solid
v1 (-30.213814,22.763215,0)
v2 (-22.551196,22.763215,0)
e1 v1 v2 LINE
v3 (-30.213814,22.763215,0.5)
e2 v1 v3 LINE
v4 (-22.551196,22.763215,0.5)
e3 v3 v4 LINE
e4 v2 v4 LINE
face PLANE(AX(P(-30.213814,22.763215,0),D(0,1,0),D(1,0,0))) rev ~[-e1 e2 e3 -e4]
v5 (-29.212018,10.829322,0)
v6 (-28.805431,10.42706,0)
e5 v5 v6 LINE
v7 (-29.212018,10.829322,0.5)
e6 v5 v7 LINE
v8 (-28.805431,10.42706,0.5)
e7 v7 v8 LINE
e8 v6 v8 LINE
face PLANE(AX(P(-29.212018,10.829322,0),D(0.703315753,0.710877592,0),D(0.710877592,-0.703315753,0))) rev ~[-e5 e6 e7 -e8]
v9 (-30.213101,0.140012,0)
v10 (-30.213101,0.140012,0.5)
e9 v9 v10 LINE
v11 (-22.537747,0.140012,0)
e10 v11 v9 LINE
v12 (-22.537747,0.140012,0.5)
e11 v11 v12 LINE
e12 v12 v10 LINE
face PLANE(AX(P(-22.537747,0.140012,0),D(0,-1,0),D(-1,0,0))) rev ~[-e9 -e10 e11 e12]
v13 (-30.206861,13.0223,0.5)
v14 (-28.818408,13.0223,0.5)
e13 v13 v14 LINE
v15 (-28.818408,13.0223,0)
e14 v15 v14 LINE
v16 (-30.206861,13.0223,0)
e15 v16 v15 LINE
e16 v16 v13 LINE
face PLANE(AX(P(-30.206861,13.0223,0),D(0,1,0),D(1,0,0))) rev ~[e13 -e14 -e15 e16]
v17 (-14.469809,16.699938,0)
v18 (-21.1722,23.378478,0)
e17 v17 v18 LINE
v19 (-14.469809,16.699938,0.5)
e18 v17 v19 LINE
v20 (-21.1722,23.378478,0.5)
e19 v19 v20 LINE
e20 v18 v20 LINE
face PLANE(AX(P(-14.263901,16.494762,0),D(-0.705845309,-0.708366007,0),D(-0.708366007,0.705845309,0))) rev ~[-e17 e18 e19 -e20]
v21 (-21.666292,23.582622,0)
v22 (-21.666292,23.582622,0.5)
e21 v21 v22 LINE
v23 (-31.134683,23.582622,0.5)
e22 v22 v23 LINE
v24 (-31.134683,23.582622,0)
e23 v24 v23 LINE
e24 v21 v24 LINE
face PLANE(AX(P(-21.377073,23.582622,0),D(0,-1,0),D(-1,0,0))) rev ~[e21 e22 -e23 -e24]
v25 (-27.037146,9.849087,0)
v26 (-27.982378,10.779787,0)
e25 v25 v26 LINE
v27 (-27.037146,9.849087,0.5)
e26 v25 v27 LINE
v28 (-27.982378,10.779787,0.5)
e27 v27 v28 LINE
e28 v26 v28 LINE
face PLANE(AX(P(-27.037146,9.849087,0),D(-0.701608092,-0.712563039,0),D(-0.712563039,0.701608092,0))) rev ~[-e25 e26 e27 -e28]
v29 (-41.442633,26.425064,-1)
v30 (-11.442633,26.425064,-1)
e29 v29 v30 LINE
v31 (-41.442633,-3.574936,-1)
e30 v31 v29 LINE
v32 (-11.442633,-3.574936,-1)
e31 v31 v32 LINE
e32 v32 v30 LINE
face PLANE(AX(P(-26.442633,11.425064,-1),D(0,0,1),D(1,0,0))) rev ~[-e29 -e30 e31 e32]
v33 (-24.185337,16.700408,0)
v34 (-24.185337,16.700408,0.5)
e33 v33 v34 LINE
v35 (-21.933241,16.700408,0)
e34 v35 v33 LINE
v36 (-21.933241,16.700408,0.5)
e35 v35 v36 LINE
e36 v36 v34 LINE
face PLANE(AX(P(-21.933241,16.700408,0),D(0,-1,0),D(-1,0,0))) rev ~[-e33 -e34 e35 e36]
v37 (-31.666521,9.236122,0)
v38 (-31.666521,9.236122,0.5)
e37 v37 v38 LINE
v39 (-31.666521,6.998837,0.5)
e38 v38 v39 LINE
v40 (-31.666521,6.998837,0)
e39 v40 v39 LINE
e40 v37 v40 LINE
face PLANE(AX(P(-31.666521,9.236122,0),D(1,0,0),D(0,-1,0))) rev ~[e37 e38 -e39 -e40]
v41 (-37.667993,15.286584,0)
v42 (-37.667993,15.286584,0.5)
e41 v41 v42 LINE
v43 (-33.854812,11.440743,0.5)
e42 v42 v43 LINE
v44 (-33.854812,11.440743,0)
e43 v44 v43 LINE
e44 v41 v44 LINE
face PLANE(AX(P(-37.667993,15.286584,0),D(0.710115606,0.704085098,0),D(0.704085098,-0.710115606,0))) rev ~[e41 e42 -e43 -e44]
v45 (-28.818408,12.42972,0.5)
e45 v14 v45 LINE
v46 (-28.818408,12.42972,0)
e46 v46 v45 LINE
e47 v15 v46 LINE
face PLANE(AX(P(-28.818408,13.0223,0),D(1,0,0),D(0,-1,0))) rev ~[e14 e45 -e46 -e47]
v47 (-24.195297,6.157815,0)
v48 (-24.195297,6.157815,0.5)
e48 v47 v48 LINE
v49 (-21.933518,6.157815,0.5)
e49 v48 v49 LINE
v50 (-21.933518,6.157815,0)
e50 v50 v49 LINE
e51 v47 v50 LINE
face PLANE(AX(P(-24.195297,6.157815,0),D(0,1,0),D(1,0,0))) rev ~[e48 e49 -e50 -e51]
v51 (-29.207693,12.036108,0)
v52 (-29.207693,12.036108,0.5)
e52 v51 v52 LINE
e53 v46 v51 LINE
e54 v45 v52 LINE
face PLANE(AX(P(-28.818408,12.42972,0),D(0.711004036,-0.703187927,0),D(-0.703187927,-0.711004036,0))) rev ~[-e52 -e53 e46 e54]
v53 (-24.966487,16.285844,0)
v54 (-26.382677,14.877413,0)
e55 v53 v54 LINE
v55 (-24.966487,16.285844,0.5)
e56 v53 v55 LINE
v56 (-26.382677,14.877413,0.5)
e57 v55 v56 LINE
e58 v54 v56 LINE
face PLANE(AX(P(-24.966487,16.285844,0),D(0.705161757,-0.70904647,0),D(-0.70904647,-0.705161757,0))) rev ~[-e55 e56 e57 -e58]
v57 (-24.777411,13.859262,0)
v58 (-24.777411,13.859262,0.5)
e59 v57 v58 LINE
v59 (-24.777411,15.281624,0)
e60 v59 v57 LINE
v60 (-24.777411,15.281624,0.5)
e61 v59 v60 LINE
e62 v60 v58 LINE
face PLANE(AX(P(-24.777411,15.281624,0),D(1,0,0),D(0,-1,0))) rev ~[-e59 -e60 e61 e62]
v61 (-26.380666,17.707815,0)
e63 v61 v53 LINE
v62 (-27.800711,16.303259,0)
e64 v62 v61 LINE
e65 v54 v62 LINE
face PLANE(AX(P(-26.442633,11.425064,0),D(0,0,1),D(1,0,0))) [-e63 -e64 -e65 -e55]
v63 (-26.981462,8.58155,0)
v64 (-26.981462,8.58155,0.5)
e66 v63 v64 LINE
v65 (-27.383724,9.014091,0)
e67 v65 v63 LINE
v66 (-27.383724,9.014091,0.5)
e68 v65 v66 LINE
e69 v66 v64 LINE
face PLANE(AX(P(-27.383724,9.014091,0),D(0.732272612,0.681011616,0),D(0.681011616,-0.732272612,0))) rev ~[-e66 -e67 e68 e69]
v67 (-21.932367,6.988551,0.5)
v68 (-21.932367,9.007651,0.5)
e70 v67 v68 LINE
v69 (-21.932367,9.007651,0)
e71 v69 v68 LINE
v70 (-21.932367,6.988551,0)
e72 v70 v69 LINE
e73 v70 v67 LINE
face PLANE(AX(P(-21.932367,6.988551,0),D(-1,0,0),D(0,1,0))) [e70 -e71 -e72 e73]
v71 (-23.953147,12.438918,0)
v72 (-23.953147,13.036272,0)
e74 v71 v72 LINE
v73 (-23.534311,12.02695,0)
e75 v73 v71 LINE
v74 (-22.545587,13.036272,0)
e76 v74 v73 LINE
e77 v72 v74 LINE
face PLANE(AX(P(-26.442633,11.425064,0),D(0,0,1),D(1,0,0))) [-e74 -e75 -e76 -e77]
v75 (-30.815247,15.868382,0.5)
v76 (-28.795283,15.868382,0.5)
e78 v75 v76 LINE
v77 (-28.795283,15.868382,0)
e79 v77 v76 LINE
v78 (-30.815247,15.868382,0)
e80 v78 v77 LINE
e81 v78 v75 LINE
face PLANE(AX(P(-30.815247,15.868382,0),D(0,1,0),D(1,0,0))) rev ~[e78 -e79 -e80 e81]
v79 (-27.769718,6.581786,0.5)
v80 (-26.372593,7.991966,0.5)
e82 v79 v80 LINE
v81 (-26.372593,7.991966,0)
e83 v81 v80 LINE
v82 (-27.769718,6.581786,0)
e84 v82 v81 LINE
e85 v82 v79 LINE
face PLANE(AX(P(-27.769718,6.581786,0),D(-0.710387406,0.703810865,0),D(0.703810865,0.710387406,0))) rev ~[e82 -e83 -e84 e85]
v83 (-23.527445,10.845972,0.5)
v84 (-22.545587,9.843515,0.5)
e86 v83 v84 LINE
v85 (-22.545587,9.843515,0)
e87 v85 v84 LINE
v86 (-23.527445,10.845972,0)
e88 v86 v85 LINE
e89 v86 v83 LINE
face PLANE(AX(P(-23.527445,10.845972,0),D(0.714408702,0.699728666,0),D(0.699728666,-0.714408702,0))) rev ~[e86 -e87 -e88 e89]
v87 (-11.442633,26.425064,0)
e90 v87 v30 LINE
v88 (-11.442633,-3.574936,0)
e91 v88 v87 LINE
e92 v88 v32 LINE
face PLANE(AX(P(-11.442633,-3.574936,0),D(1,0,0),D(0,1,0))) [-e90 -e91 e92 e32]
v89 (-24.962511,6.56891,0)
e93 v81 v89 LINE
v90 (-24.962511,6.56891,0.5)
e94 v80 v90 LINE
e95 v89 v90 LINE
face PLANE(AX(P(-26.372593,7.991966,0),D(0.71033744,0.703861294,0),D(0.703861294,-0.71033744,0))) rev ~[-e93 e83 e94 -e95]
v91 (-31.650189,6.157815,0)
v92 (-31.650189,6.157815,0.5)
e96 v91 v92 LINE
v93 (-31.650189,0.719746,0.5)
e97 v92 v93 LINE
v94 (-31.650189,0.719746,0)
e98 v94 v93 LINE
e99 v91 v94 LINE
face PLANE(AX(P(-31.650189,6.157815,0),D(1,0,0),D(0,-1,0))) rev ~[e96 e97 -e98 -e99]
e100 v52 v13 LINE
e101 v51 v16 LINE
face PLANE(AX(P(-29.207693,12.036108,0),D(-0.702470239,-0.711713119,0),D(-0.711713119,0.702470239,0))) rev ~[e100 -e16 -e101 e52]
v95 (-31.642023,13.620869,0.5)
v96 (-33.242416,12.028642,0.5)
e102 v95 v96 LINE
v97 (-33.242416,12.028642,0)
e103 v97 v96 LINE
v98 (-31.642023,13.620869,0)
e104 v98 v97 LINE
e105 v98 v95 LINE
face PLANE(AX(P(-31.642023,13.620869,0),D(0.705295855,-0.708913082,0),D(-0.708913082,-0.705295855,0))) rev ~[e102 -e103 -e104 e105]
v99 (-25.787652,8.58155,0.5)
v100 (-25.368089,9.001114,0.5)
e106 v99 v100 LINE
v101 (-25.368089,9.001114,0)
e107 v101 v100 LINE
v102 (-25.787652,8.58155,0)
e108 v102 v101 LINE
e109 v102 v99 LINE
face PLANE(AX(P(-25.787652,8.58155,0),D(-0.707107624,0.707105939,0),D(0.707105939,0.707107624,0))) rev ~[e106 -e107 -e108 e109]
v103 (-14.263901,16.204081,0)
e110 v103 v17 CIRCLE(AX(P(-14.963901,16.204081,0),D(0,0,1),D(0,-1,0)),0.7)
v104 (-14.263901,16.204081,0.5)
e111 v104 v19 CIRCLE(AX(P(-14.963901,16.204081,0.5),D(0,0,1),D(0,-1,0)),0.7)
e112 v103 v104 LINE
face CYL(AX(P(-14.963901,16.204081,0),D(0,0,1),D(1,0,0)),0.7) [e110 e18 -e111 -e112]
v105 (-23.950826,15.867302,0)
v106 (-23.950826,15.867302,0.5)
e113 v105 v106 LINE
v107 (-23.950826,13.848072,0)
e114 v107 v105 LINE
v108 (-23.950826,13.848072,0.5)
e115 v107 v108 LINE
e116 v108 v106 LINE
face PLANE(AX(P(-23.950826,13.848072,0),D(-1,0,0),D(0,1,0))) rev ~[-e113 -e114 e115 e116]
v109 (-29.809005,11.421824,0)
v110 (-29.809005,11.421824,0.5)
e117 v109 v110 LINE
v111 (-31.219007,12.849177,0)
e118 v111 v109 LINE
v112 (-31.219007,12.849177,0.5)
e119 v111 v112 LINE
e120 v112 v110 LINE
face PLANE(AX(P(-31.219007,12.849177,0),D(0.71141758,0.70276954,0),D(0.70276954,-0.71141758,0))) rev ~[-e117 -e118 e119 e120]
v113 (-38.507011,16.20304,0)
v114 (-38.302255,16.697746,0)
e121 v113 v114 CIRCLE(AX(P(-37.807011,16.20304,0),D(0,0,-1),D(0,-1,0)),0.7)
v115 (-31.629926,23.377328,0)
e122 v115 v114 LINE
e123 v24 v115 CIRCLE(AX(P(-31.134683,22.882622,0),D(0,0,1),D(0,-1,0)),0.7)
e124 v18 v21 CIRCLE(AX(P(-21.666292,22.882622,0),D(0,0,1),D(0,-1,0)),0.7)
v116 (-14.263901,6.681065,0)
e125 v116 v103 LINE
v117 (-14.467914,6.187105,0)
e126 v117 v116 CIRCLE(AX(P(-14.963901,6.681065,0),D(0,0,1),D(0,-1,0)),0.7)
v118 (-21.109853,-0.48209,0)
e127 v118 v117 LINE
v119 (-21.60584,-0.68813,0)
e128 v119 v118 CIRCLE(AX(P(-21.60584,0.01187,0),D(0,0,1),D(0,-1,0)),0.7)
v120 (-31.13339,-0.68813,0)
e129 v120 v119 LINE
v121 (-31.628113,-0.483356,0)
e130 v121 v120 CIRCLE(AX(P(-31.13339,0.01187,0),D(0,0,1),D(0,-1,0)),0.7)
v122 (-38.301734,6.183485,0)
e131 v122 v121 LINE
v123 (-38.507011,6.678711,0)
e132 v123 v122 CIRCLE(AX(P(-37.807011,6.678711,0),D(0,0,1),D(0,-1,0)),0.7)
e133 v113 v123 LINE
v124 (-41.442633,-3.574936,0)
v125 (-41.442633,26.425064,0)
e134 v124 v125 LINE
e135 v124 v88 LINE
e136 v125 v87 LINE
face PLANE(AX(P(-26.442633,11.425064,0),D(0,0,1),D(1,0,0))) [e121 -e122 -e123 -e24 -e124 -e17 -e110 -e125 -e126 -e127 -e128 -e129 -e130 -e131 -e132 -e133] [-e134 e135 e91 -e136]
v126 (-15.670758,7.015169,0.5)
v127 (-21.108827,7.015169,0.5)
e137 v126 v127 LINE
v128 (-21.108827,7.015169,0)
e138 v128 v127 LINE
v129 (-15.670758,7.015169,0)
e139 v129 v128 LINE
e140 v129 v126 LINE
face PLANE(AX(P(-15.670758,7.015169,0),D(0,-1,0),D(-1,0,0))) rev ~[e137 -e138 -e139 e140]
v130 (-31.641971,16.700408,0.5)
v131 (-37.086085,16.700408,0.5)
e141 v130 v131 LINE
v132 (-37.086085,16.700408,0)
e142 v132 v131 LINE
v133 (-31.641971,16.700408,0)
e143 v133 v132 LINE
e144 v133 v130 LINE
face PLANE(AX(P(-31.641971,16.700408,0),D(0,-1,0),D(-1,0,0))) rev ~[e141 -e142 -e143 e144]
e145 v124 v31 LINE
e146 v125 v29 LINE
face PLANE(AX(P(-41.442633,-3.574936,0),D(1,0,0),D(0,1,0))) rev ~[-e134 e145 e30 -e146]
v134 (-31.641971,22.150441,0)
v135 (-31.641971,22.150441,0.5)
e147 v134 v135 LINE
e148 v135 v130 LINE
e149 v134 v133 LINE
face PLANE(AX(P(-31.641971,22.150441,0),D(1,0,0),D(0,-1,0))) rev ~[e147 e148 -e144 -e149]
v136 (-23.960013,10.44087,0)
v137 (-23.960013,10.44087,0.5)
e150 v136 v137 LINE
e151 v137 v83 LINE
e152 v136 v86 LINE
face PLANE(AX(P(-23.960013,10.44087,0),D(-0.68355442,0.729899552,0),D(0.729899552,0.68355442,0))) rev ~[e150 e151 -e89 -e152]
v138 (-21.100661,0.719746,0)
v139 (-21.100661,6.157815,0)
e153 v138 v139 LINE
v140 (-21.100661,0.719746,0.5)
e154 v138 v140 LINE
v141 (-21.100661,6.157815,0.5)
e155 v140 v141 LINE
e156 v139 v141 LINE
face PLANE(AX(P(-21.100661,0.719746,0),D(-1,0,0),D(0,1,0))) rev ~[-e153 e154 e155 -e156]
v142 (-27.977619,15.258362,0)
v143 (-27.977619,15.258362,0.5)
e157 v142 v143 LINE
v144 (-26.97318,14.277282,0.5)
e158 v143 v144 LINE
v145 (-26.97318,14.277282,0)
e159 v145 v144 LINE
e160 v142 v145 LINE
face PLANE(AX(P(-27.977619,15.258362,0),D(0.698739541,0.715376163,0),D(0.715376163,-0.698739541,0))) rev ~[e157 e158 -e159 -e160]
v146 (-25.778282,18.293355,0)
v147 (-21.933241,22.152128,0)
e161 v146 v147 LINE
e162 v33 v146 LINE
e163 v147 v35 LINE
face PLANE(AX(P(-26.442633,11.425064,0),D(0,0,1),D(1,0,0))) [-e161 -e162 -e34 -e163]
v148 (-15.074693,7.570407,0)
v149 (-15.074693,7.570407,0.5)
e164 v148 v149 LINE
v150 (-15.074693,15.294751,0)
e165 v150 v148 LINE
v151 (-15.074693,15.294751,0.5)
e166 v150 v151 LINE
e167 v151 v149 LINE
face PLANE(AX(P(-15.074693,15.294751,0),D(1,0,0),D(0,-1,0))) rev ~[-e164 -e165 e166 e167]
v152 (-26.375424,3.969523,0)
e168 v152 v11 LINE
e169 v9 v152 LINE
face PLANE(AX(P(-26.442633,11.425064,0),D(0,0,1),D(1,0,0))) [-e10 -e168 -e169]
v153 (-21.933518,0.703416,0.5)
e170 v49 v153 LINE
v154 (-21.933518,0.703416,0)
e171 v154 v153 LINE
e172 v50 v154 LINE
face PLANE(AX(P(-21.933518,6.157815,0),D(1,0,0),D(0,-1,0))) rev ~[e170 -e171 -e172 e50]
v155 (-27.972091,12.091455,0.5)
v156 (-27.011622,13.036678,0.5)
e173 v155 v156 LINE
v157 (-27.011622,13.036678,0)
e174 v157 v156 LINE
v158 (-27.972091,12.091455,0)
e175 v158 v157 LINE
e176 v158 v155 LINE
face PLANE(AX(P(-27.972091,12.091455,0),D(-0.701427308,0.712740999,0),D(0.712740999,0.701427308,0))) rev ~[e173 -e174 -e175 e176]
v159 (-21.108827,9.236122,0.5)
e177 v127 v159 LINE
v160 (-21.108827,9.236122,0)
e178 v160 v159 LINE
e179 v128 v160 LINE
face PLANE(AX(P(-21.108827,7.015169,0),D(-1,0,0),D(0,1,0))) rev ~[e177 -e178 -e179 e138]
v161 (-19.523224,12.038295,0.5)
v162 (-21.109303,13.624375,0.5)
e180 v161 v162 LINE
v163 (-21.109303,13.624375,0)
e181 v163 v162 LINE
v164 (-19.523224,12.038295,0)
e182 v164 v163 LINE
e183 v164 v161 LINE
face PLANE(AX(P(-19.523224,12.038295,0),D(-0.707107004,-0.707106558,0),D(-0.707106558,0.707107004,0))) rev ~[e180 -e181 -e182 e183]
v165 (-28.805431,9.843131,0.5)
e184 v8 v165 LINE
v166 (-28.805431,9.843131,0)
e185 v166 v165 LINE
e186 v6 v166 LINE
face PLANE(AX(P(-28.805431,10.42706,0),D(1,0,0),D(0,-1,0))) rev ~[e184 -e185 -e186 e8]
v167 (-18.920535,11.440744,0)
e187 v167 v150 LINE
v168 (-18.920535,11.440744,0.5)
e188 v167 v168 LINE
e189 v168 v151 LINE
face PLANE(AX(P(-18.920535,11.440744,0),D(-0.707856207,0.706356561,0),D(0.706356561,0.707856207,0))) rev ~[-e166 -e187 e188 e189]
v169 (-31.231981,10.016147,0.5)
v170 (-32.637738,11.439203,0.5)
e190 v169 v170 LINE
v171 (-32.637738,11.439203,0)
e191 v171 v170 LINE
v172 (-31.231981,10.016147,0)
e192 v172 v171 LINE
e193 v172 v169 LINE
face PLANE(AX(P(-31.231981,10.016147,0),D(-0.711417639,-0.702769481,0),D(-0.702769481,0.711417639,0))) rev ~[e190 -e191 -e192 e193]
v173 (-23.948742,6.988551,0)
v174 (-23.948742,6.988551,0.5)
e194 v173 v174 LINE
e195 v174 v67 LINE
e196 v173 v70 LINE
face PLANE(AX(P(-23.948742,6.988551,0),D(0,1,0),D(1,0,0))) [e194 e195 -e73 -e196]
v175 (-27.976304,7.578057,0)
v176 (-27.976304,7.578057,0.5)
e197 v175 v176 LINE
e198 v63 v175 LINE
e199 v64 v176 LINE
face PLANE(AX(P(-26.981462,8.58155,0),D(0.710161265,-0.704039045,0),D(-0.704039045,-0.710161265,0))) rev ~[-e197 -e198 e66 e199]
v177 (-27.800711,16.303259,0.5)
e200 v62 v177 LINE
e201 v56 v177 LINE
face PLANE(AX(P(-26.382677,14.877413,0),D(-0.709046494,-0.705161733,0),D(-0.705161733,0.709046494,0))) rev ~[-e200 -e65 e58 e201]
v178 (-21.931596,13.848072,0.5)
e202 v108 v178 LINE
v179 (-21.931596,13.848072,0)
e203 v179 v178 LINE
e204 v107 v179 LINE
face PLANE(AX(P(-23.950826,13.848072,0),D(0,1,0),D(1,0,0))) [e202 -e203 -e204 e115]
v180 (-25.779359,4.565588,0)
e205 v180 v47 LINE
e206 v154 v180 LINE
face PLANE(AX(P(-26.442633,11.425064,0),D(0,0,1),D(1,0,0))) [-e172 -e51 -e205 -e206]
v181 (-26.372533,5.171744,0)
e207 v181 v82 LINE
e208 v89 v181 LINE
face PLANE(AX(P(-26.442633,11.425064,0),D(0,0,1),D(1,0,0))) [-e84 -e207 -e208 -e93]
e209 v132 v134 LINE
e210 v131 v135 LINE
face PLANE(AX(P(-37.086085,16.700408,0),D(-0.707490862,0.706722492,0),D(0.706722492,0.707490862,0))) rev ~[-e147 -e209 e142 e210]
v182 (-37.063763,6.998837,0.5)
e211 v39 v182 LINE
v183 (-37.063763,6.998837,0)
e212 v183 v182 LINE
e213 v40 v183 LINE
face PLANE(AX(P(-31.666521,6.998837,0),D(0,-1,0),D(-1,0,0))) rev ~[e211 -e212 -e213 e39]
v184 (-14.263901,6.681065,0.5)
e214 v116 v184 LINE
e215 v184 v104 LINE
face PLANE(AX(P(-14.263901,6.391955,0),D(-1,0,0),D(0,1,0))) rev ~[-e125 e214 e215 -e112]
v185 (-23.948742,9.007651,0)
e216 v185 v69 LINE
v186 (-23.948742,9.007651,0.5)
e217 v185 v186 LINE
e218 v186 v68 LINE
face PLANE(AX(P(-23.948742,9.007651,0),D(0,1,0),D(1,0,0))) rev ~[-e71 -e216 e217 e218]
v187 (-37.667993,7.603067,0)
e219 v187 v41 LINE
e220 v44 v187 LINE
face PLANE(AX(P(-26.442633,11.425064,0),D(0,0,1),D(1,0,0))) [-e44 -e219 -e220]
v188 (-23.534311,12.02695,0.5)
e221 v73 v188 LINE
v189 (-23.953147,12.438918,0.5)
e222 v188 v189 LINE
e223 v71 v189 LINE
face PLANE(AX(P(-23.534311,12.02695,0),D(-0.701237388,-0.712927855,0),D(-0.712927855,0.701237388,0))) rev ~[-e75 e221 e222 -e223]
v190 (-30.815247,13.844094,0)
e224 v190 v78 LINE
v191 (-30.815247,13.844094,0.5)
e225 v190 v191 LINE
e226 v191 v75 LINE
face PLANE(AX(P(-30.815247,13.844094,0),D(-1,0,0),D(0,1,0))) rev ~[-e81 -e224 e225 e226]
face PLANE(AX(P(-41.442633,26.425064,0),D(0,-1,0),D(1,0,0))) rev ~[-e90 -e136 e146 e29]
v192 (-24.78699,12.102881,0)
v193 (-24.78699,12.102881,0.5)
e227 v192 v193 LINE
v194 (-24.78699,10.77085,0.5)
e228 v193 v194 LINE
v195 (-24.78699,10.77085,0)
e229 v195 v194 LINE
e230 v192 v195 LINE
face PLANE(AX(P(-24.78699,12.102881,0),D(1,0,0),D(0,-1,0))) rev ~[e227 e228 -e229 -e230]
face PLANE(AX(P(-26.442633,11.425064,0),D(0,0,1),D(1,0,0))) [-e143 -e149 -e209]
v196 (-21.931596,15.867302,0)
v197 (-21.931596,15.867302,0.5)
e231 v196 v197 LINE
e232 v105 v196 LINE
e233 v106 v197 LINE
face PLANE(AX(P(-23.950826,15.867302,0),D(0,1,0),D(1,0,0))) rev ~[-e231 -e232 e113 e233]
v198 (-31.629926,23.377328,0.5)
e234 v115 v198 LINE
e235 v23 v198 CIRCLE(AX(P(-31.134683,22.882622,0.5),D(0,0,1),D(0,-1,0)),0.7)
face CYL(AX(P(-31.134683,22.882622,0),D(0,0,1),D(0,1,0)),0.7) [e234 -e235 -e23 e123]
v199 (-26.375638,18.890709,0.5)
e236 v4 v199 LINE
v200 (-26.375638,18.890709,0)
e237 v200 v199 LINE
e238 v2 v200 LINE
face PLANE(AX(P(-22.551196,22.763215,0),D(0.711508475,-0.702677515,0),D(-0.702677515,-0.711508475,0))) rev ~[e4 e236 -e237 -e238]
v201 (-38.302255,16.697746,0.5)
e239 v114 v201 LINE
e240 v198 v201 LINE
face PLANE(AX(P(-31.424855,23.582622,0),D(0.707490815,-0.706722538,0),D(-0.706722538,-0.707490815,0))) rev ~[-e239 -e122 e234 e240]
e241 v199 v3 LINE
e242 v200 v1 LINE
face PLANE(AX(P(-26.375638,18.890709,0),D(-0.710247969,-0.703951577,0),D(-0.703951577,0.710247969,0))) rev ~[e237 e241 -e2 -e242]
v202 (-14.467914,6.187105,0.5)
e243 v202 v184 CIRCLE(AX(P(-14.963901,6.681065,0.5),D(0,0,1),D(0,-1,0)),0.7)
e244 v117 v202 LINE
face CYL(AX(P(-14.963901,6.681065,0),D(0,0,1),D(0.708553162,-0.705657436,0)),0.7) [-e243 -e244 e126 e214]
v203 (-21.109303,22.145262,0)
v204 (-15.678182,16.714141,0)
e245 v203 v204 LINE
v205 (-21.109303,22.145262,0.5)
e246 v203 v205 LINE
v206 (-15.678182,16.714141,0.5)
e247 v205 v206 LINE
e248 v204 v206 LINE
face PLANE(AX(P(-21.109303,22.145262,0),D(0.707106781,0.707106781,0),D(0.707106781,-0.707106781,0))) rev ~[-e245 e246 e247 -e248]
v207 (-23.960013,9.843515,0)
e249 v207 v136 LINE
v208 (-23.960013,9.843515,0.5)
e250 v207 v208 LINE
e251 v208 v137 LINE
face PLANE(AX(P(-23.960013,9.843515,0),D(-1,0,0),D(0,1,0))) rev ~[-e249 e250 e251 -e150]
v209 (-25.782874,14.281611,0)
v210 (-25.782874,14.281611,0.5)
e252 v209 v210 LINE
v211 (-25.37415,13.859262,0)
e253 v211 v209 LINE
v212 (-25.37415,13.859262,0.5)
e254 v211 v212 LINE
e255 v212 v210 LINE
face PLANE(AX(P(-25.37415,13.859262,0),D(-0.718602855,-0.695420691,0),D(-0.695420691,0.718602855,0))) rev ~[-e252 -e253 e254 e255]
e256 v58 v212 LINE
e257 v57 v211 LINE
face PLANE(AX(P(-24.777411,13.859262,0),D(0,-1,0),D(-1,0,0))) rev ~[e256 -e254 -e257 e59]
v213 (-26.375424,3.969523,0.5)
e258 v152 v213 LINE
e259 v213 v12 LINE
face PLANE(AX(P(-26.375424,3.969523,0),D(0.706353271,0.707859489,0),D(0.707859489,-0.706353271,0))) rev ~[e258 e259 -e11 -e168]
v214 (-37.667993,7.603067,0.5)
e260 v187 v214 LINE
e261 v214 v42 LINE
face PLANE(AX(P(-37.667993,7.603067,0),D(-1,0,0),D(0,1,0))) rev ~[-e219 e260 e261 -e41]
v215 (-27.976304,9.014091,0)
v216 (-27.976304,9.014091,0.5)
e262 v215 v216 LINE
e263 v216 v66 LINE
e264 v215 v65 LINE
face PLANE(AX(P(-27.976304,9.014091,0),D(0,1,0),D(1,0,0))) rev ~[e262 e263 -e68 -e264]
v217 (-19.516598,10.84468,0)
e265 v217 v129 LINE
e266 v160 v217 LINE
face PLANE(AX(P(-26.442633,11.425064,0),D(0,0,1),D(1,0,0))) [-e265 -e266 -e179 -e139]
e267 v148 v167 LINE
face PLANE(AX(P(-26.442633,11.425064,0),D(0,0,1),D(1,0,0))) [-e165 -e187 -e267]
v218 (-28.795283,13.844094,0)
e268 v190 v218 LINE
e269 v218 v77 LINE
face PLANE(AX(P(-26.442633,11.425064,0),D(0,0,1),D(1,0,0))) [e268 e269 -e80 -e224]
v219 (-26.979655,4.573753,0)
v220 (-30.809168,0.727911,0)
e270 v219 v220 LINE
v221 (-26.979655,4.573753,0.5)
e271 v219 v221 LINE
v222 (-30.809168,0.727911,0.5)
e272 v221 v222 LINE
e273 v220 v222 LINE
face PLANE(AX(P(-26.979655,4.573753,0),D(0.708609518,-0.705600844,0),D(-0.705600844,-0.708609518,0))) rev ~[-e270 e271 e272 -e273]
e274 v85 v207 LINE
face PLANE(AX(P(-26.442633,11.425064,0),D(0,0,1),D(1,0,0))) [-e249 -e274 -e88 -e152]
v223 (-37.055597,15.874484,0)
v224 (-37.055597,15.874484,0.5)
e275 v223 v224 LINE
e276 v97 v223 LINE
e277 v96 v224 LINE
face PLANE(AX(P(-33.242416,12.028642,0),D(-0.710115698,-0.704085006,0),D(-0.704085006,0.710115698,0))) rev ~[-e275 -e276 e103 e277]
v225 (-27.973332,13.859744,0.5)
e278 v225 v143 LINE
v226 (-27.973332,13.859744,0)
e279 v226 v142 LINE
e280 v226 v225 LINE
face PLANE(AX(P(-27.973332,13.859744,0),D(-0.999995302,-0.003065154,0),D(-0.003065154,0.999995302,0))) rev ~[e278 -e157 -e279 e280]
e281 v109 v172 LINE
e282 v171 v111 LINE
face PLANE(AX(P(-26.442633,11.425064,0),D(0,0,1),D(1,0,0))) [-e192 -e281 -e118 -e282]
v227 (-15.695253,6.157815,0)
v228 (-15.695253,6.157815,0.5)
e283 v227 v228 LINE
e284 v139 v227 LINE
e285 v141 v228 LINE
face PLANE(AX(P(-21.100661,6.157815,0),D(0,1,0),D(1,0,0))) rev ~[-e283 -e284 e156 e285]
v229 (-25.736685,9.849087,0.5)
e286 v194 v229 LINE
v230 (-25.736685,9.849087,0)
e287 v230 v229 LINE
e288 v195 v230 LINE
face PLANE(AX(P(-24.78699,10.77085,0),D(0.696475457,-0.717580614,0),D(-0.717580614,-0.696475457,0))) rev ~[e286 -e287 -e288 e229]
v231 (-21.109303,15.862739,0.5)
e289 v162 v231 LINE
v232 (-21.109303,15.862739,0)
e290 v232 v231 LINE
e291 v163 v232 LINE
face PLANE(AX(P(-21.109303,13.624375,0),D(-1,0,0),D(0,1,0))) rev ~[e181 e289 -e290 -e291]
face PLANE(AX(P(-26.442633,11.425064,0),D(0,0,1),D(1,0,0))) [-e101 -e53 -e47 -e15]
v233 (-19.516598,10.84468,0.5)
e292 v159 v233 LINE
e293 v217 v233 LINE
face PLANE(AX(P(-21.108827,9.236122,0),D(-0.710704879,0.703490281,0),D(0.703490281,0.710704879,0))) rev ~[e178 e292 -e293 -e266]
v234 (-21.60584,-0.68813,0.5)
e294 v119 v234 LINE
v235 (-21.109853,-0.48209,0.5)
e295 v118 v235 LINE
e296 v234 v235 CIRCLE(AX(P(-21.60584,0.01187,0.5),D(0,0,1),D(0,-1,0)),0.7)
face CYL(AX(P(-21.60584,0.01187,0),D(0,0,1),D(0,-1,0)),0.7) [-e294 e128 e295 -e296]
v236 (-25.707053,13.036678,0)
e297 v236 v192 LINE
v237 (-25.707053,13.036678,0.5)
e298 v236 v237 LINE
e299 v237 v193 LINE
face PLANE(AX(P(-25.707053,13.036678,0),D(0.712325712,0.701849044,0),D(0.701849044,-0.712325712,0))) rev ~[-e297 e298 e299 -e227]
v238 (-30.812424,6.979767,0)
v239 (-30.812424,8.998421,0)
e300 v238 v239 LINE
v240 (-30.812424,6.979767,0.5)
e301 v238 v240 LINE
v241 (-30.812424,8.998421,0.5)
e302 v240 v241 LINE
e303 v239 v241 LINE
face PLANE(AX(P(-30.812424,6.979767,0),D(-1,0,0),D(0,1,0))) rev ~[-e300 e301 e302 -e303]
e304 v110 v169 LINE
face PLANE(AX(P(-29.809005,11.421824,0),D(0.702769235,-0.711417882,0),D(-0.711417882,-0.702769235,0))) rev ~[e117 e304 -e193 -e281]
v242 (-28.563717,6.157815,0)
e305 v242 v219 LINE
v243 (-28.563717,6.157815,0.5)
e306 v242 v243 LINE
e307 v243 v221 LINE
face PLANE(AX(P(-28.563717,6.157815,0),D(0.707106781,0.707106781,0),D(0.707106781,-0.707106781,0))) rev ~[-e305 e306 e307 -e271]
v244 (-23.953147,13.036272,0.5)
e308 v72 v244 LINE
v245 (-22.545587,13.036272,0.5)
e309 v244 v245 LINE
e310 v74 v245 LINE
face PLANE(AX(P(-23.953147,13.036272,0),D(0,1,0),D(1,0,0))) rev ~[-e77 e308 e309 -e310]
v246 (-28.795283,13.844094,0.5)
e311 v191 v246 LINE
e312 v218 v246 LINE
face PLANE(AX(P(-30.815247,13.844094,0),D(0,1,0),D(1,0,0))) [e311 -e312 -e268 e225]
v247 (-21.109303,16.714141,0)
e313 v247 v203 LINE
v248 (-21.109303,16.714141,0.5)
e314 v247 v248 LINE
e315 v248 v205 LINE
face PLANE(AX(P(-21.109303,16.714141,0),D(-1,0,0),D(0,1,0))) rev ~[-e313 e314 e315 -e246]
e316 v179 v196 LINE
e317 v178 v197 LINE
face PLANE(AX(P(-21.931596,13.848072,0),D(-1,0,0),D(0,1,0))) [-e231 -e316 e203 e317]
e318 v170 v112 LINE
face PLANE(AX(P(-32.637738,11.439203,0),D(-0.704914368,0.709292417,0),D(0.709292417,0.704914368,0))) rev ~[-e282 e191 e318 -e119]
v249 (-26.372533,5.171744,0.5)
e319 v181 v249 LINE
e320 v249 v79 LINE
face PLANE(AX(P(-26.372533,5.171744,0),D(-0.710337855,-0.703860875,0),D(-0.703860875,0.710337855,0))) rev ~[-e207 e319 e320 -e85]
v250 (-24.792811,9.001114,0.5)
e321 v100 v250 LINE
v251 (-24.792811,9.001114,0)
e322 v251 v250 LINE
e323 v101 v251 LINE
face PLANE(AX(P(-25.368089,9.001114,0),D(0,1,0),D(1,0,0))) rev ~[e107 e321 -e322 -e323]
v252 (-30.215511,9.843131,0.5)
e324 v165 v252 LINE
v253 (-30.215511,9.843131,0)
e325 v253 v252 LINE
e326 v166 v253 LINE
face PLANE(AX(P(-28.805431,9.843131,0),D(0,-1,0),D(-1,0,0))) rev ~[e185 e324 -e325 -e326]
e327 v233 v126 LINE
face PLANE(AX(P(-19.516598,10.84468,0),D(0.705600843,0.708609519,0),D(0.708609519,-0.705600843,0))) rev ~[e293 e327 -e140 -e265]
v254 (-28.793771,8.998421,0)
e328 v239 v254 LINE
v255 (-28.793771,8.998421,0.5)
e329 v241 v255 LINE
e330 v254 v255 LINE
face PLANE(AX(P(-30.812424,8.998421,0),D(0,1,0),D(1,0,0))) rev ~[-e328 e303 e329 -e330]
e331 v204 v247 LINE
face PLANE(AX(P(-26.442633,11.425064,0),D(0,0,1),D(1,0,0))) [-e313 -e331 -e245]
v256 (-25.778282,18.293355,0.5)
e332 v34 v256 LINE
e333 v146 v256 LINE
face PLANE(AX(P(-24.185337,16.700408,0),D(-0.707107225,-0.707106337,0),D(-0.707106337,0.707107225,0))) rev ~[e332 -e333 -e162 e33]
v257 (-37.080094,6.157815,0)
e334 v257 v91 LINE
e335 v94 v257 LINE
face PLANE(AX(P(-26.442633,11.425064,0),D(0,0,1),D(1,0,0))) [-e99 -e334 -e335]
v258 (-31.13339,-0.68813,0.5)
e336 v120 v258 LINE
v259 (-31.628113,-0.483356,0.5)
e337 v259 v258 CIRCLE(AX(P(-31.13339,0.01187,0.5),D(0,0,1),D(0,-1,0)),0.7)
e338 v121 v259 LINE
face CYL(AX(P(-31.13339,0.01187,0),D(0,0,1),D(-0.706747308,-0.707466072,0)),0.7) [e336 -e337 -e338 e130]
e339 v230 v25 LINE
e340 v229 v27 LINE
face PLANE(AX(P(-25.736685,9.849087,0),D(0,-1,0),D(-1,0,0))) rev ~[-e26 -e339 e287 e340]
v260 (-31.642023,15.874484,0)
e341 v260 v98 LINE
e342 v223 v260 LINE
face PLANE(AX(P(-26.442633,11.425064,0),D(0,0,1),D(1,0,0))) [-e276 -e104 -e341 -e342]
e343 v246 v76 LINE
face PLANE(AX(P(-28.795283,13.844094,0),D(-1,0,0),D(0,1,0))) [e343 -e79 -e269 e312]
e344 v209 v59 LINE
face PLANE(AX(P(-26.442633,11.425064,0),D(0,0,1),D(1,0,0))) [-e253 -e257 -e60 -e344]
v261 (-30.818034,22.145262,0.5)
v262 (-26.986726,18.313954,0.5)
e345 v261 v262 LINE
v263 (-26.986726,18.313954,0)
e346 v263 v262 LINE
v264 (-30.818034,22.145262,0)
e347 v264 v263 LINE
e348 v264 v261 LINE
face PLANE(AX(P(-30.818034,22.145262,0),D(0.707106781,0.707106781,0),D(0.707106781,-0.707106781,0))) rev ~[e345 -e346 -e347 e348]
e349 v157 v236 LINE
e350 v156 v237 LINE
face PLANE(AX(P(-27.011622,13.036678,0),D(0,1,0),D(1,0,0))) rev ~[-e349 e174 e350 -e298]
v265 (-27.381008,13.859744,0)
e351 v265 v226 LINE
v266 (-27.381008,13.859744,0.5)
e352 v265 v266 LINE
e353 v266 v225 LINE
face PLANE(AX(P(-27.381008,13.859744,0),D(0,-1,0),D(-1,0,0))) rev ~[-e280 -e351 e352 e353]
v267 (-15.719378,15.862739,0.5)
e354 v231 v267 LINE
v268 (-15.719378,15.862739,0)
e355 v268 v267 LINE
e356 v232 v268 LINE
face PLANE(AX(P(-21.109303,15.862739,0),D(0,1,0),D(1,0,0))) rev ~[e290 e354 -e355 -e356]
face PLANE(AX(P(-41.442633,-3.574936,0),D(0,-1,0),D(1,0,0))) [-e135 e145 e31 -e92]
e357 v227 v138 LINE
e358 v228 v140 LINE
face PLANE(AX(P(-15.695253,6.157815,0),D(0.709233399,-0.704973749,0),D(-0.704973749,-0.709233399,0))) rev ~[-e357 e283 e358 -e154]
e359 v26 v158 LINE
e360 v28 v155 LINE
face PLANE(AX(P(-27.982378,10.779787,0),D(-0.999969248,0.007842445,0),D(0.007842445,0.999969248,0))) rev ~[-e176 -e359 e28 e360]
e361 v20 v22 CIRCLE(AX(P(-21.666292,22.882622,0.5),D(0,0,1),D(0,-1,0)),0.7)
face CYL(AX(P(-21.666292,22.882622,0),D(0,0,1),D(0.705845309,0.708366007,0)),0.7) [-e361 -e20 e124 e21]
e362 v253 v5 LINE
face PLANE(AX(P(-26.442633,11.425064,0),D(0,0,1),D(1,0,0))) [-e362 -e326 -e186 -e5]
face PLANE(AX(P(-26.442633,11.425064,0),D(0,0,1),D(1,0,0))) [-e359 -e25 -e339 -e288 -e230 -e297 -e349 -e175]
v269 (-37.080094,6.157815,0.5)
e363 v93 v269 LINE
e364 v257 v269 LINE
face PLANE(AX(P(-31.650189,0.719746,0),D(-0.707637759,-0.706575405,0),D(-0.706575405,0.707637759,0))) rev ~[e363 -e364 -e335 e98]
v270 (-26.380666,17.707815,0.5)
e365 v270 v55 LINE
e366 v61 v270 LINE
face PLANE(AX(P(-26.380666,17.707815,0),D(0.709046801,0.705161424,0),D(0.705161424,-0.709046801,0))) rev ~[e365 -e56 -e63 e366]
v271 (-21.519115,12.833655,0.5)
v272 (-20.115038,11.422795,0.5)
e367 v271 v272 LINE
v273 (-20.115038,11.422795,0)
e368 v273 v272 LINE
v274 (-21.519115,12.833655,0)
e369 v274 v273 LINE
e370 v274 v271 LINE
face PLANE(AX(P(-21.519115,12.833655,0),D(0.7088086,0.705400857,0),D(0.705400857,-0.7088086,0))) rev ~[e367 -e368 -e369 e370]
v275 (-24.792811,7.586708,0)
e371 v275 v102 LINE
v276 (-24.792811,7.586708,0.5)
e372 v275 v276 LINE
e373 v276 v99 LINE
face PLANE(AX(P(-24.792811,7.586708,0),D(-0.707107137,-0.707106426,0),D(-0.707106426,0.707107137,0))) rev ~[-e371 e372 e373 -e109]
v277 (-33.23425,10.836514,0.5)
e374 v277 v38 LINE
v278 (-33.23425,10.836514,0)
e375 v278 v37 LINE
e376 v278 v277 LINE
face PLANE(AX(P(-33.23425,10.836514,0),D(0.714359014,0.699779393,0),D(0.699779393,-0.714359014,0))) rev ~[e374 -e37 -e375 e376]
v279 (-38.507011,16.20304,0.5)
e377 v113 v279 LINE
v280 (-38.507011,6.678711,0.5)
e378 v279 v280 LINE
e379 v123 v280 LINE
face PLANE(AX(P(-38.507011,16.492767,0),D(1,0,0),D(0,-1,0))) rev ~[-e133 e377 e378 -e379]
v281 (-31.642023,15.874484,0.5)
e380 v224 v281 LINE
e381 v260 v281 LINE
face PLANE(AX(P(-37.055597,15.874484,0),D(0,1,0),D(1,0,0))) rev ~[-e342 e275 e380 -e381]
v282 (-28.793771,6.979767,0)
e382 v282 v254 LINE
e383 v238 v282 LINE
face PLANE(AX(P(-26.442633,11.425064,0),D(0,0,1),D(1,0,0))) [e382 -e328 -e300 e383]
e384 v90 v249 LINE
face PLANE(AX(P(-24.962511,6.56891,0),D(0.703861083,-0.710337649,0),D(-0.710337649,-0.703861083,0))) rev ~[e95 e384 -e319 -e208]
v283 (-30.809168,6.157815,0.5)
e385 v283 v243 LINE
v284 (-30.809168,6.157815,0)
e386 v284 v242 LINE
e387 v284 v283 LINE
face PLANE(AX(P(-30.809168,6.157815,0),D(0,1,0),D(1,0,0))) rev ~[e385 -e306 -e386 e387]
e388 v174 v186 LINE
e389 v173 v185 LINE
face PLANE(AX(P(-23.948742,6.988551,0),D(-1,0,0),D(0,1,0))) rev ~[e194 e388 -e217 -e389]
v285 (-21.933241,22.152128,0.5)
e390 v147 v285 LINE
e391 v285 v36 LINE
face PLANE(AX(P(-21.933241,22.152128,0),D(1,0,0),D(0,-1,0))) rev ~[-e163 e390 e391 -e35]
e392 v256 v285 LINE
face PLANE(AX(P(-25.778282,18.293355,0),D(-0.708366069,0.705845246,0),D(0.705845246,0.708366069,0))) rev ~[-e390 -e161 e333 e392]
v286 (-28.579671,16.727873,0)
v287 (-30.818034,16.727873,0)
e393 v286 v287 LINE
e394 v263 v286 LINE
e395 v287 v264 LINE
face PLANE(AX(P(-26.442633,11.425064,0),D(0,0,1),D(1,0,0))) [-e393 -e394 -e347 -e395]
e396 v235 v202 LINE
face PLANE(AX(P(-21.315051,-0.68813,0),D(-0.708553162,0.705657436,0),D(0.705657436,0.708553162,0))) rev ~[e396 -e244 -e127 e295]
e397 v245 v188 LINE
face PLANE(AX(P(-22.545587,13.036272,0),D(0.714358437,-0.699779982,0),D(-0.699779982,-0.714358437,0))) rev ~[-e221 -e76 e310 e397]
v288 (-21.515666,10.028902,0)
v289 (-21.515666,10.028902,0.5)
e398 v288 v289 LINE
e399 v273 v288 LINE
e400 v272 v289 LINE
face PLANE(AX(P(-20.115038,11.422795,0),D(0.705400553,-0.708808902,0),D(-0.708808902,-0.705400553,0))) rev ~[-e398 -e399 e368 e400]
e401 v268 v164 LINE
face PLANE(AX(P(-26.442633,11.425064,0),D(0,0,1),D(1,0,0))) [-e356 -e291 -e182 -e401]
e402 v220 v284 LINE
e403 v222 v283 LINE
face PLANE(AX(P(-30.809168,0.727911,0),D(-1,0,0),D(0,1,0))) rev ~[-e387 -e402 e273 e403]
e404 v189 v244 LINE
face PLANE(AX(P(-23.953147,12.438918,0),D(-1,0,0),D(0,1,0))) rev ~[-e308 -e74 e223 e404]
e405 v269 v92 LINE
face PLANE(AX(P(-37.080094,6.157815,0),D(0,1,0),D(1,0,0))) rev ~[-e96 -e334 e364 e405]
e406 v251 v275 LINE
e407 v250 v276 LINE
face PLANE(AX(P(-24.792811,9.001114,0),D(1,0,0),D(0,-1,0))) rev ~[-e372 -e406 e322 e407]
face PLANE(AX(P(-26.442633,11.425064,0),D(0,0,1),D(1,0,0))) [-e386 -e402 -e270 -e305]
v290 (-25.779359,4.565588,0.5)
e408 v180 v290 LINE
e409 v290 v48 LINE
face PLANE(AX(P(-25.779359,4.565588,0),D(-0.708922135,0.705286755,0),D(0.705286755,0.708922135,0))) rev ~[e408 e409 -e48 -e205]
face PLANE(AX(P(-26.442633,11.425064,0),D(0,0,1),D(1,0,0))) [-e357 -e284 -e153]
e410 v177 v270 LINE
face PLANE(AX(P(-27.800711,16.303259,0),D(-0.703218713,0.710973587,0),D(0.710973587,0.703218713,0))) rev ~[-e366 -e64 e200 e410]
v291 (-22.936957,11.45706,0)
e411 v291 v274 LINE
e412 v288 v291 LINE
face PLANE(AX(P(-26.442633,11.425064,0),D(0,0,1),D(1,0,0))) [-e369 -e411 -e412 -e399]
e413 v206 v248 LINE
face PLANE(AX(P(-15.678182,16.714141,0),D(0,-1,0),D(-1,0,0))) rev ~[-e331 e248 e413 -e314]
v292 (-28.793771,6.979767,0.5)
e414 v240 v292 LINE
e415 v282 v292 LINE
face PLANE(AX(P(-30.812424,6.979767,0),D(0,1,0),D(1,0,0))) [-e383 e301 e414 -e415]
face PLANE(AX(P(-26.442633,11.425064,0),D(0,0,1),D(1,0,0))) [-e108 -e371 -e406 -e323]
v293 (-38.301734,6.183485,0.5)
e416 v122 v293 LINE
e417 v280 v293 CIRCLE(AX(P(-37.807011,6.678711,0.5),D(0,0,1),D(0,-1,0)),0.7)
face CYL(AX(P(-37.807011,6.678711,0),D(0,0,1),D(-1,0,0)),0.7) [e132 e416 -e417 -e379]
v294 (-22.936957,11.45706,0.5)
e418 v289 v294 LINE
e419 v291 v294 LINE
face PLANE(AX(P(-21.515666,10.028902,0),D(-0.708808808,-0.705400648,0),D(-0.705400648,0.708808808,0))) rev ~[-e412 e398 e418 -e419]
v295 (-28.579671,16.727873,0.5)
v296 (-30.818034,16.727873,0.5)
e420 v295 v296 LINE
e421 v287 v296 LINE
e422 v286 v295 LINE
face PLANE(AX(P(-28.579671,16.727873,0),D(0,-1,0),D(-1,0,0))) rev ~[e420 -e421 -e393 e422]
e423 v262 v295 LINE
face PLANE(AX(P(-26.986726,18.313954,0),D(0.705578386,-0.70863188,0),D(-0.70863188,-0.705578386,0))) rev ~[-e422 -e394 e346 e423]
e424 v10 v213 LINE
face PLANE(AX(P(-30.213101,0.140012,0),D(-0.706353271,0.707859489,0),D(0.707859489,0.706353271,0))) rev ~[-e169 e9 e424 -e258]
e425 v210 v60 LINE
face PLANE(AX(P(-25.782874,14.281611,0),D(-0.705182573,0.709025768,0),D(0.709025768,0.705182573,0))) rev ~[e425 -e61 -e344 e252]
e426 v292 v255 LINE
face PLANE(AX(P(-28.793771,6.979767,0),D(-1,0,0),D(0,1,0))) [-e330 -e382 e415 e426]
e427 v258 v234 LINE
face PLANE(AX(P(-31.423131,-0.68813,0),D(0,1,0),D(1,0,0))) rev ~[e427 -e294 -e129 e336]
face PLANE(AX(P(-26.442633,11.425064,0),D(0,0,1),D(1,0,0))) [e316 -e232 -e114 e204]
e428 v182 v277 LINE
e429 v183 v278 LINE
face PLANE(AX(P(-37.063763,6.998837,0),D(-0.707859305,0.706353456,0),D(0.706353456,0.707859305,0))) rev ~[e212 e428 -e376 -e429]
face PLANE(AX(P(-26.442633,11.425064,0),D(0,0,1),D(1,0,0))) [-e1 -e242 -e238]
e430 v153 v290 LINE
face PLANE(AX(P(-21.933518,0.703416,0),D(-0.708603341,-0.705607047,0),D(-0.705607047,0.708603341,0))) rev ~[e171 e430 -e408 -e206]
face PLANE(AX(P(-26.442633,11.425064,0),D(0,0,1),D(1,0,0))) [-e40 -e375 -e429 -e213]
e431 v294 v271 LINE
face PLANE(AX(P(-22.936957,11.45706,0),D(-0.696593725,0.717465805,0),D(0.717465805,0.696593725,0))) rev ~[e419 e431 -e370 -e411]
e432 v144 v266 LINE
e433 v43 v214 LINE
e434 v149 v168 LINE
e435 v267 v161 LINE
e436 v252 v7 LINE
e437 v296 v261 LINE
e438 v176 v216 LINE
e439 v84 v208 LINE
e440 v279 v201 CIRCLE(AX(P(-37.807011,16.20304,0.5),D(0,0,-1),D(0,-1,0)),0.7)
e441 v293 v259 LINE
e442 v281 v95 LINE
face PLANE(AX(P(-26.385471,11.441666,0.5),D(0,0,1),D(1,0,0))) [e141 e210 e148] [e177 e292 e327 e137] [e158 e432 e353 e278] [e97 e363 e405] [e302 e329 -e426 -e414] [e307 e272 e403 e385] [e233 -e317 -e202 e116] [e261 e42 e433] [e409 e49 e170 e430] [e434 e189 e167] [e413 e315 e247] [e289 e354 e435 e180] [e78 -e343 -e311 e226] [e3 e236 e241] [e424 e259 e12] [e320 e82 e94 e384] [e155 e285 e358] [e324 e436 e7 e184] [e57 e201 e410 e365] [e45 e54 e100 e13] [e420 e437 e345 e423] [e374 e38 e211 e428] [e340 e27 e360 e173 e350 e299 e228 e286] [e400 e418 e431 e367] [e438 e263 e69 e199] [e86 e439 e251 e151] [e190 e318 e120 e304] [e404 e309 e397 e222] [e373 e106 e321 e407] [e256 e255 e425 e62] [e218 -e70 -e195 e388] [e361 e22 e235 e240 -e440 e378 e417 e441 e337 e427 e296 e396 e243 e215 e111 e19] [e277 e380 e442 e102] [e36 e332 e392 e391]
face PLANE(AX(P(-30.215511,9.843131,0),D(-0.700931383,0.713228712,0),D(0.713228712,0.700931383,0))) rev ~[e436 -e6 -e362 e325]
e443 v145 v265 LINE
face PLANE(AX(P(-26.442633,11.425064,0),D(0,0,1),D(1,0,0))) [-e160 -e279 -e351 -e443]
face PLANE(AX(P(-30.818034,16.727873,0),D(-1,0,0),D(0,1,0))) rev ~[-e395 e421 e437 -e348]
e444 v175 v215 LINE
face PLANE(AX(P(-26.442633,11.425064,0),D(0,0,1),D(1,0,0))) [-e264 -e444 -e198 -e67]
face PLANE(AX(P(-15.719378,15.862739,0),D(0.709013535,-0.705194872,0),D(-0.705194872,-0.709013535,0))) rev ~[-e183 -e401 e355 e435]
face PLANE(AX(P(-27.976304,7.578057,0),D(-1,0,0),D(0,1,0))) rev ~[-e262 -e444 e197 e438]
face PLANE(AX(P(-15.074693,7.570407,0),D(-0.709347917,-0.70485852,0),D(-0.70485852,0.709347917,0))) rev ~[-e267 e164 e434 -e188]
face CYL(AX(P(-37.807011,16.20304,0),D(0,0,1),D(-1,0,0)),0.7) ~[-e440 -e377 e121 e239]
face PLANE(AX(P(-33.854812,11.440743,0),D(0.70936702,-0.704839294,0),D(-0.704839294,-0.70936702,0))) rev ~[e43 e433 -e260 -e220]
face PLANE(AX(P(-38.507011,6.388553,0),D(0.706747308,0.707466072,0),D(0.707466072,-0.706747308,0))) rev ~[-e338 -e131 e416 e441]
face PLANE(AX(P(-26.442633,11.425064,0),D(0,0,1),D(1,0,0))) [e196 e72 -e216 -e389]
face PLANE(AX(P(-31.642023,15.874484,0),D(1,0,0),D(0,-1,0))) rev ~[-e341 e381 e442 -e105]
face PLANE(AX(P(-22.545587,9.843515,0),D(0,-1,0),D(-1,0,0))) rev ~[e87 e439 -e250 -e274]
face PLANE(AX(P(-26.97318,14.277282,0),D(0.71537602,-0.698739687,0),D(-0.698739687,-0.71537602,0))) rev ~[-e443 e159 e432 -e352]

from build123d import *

# Parameters (mm, degrees)
F0_W     = 30
F0_H     = 30
F1_DEPTH = 1
F2_W     = 2.018653
F2_H     = 2.018654
F2_W_2   = 2.016375
F2_H_2   = 2.0191
F2_W_3   = 2.019964
F2_H_3   = 2.024288
F2_W_4   = 2.01923
F2_H_4   = 2.01923
F3_DEPTH = 0.5
F4_R     = 0.7


with BuildPart() as f1:
    # F0 (on Top) → F1 (new body)
    with BuildSketch(Plane.XY):
        with Locations((-26.442633, 11.425064)):
            Rectangle(F0_W, F0_H)
    extrude(amount=-F1_DEPTH)

    # F2 (on face) → F3 (join)
    with BuildSketch(Plane.XY):
        Polygon((-38.507011, 16.492767), (-38.507011, 6.388553), (-31.423131, -0.68813), (-21.315051, -0.68813), (-14.263901, 6.391955), (-14.263901, 16.494762), (-21.377073, 23.582622), (-31.424855, 23.582622), align=None)
        Polygon((-31.650189, 6.157815), (-31.650189, 0.719746), (-37.080094, 6.157815), align=None, mode=Mode.SUBTRACT)
        Polygon((-26.979655, 4.573753), (-30.809168, 0.727911), (-30.809168, 6.157815), (-28.563717, 6.157815), align=None, mode=Mode.SUBTRACT)
        Polygon((-33.854812, 11.440743), (-37.667993, 7.603067), (-37.667993, 15.286584), align=None, mode=Mode.SUBTRACT)
        Polygon((-31.666521, 6.998837), (-37.063763, 6.998837), (-33.23425, 10.836514), (-31.666521, 9.236122), align=None, mode=Mode.SUBTRACT)
        with Locations((-29.803097, 7.989094)):
            Rectangle(F2_W, F2_H, mode=Mode.SUBTRACT)
        Polygon((-26.981462, 8.58155), (-27.976304, 7.578057), (-27.976304, 9.014091), (-27.383724, 9.014091), align=None, mode=Mode.SUBTRACT)
        Polygon((-31.231981, 10.016147), (-32.637738, 11.439203), (-31.219007, 12.849177), (-29.809005, 11.421824), align=None, mode=Mode.SUBTRACT)
        Polygon((-28.805431, 9.843131), (-30.215511, 9.843131), (-29.212018, 10.829322), (-28.805431, 10.42706), align=None, mode=Mode.SUBTRACT)
        Polygon((-22.537747, 0.140012), (-30.213101, 0.140012), (-26.375424, 3.969523), align=None, mode=Mode.SUBTRACT)
        Polygon((-25.779359, 4.565588), (-24.195297, 6.157815), (-21.933518, 6.157815), (-21.933518, 0.703416), align=None, mode=Mode.SUBTRACT)
        Polygon((-15.695253, 6.157815), (-21.100661, 0.719746), (-21.100661, 6.157815), align=None, mode=Mode.SUBTRACT)
        Polygon((-27.769718, 6.581786), (-26.372593, 7.991966), (-24.962511, 6.56891), (-26.372533, 5.171744), align=None, mode=Mode.SUBTRACT)
        Polygon((-25.787652, 8.58155), (-25.368089, 9.001114), (-24.792811, 9.001114), (-24.792811, 7.586708), align=None, mode=Mode.SUBTRACT)
        with Locations((-22.940554, 7.998101)):
            Rectangle(F2_W_2, F2_H_2, mode=Mode.SUBTRACT)
        Polygon((-27.037146, 9.849087), (-27.982378, 10.779787), (-27.972091, 12.091455), (-27.011622, 13.036678), (-25.707053, 13.036678), (-24.78699, 12.102881), (-24.78699, 10.77085), (-25.736685, 9.849087), align=None, mode=Mode.SUBTRACT)
        Polygon((-23.960013, 9.843515), (-23.960013, 10.44087), (-23.527445, 10.845972), (-22.545587, 9.843515), align=None, mode=Mode.SUBTRACT)
        Polygon((-21.515666, 10.028902), (-22.936957, 11.45706), (-21.519115, 12.833655), (-20.115038, 11.422795), align=None, mode=Mode.SUBTRACT)
        Polygon((-21.108827, 7.015169), (-21.108827, 9.236122), (-19.516598, 10.84468), (-15.670758, 7.015169), align=None, mode=Mode.SUBTRACT)
        Polygon((-18.920535, 11.440744), (-15.074693, 15.294751), (-15.074693, 7.570407), align=None, mode=Mode.SUBTRACT)
        Polygon((-33.242416, 12.028642), (-37.055597, 15.874484), (-31.642023, 15.874484), (-31.642023, 13.620869), align=None, mode=Mode.SUBTRACT)
        Polygon((-29.207693, 12.036108), (-30.206861, 13.0223), (-28.818408, 13.0223), (-28.818408, 12.42972), align=None, mode=Mode.SUBTRACT)
        with Locations((-29.805265, 14.856238)):
            Rectangle(F2_W_3, F2_H_3, mode=Mode.SUBTRACT)
        Polygon((-27.381008, 13.859744), (-27.973332, 13.859744), (-27.977619, 15.258362), (-26.97318, 14.277282), align=None, mode=Mode.SUBTRACT)
        Polygon((-31.641971, 16.700408), (-37.086085, 16.700408), (-31.641971, 22.150441), align=None, mode=Mode.SUBTRACT)
        Polygon((-30.818034, 16.727873), (-30.818034, 22.145262), (-26.986726, 18.313954), (-28.579671, 16.727873), align=None, mode=Mode.SUBTRACT)
        Polygon((-23.534311, 12.02695), (-23.953147, 12.438918), (-23.953147, 13.036272), (-22.545587, 13.036272), align=None, mode=Mode.SUBTRACT)
        Polygon((-24.777411, 13.859262), (-25.37415, 13.859262), (-25.782874, 14.281611), (-24.777411, 15.281624), align=None, mode=Mode.SUBTRACT)
        Polygon((-26.382677, 14.877413), (-27.800711, 16.303259), (-26.380666, 17.707815), (-24.966487, 16.285844), align=None, mode=Mode.SUBTRACT)
        with Locations((-22.941211, 14.857687)):
            Rectangle(F2_W_4, F2_H_4, mode=Mode.SUBTRACT)
        Polygon((-19.523224, 12.038295), (-21.109303, 13.624375), (-21.109303, 15.862739), (-15.719378, 15.862739), align=None, mode=Mode.SUBTRACT)
        Polygon((-25.778282, 18.293355), (-21.933241, 22.152128), (-21.933241, 16.700408), (-24.185337, 16.700408), align=None, mode=Mode.SUBTRACT)
        Polygon((-26.375638, 18.890709), (-30.213814, 22.763215), (-22.551196, 22.763215), align=None, mode=Mode.SUBTRACT)
        Polygon((-21.109303, 16.714141), (-21.109303, 22.145262), (-15.678182, 16.714141), align=None, mode=Mode.SUBTRACT)
    extrude(amount=F3_DEPTH)

    # F4
    f4_edges = [f1.edges().sort_by_distance(p)[0] for p in [
        (-14.263901, 16.494762, 0.25),
        (-14.263901, 6.391955, 0.25),
        (-21.315051, -0.68813, 0.25),
        (-31.423131, -0.68813, 0.25),
        (-38.507011, 6.388553, 0.25),
        (-21.377073, 23.582622, 0.25),
        (-31.424855, 23.582622, 0.25),
        (-38.507011, 16.492767, 0.25),
    ]]
    fillet(f4_edges, radius=F4_R)


solid = f1.part
